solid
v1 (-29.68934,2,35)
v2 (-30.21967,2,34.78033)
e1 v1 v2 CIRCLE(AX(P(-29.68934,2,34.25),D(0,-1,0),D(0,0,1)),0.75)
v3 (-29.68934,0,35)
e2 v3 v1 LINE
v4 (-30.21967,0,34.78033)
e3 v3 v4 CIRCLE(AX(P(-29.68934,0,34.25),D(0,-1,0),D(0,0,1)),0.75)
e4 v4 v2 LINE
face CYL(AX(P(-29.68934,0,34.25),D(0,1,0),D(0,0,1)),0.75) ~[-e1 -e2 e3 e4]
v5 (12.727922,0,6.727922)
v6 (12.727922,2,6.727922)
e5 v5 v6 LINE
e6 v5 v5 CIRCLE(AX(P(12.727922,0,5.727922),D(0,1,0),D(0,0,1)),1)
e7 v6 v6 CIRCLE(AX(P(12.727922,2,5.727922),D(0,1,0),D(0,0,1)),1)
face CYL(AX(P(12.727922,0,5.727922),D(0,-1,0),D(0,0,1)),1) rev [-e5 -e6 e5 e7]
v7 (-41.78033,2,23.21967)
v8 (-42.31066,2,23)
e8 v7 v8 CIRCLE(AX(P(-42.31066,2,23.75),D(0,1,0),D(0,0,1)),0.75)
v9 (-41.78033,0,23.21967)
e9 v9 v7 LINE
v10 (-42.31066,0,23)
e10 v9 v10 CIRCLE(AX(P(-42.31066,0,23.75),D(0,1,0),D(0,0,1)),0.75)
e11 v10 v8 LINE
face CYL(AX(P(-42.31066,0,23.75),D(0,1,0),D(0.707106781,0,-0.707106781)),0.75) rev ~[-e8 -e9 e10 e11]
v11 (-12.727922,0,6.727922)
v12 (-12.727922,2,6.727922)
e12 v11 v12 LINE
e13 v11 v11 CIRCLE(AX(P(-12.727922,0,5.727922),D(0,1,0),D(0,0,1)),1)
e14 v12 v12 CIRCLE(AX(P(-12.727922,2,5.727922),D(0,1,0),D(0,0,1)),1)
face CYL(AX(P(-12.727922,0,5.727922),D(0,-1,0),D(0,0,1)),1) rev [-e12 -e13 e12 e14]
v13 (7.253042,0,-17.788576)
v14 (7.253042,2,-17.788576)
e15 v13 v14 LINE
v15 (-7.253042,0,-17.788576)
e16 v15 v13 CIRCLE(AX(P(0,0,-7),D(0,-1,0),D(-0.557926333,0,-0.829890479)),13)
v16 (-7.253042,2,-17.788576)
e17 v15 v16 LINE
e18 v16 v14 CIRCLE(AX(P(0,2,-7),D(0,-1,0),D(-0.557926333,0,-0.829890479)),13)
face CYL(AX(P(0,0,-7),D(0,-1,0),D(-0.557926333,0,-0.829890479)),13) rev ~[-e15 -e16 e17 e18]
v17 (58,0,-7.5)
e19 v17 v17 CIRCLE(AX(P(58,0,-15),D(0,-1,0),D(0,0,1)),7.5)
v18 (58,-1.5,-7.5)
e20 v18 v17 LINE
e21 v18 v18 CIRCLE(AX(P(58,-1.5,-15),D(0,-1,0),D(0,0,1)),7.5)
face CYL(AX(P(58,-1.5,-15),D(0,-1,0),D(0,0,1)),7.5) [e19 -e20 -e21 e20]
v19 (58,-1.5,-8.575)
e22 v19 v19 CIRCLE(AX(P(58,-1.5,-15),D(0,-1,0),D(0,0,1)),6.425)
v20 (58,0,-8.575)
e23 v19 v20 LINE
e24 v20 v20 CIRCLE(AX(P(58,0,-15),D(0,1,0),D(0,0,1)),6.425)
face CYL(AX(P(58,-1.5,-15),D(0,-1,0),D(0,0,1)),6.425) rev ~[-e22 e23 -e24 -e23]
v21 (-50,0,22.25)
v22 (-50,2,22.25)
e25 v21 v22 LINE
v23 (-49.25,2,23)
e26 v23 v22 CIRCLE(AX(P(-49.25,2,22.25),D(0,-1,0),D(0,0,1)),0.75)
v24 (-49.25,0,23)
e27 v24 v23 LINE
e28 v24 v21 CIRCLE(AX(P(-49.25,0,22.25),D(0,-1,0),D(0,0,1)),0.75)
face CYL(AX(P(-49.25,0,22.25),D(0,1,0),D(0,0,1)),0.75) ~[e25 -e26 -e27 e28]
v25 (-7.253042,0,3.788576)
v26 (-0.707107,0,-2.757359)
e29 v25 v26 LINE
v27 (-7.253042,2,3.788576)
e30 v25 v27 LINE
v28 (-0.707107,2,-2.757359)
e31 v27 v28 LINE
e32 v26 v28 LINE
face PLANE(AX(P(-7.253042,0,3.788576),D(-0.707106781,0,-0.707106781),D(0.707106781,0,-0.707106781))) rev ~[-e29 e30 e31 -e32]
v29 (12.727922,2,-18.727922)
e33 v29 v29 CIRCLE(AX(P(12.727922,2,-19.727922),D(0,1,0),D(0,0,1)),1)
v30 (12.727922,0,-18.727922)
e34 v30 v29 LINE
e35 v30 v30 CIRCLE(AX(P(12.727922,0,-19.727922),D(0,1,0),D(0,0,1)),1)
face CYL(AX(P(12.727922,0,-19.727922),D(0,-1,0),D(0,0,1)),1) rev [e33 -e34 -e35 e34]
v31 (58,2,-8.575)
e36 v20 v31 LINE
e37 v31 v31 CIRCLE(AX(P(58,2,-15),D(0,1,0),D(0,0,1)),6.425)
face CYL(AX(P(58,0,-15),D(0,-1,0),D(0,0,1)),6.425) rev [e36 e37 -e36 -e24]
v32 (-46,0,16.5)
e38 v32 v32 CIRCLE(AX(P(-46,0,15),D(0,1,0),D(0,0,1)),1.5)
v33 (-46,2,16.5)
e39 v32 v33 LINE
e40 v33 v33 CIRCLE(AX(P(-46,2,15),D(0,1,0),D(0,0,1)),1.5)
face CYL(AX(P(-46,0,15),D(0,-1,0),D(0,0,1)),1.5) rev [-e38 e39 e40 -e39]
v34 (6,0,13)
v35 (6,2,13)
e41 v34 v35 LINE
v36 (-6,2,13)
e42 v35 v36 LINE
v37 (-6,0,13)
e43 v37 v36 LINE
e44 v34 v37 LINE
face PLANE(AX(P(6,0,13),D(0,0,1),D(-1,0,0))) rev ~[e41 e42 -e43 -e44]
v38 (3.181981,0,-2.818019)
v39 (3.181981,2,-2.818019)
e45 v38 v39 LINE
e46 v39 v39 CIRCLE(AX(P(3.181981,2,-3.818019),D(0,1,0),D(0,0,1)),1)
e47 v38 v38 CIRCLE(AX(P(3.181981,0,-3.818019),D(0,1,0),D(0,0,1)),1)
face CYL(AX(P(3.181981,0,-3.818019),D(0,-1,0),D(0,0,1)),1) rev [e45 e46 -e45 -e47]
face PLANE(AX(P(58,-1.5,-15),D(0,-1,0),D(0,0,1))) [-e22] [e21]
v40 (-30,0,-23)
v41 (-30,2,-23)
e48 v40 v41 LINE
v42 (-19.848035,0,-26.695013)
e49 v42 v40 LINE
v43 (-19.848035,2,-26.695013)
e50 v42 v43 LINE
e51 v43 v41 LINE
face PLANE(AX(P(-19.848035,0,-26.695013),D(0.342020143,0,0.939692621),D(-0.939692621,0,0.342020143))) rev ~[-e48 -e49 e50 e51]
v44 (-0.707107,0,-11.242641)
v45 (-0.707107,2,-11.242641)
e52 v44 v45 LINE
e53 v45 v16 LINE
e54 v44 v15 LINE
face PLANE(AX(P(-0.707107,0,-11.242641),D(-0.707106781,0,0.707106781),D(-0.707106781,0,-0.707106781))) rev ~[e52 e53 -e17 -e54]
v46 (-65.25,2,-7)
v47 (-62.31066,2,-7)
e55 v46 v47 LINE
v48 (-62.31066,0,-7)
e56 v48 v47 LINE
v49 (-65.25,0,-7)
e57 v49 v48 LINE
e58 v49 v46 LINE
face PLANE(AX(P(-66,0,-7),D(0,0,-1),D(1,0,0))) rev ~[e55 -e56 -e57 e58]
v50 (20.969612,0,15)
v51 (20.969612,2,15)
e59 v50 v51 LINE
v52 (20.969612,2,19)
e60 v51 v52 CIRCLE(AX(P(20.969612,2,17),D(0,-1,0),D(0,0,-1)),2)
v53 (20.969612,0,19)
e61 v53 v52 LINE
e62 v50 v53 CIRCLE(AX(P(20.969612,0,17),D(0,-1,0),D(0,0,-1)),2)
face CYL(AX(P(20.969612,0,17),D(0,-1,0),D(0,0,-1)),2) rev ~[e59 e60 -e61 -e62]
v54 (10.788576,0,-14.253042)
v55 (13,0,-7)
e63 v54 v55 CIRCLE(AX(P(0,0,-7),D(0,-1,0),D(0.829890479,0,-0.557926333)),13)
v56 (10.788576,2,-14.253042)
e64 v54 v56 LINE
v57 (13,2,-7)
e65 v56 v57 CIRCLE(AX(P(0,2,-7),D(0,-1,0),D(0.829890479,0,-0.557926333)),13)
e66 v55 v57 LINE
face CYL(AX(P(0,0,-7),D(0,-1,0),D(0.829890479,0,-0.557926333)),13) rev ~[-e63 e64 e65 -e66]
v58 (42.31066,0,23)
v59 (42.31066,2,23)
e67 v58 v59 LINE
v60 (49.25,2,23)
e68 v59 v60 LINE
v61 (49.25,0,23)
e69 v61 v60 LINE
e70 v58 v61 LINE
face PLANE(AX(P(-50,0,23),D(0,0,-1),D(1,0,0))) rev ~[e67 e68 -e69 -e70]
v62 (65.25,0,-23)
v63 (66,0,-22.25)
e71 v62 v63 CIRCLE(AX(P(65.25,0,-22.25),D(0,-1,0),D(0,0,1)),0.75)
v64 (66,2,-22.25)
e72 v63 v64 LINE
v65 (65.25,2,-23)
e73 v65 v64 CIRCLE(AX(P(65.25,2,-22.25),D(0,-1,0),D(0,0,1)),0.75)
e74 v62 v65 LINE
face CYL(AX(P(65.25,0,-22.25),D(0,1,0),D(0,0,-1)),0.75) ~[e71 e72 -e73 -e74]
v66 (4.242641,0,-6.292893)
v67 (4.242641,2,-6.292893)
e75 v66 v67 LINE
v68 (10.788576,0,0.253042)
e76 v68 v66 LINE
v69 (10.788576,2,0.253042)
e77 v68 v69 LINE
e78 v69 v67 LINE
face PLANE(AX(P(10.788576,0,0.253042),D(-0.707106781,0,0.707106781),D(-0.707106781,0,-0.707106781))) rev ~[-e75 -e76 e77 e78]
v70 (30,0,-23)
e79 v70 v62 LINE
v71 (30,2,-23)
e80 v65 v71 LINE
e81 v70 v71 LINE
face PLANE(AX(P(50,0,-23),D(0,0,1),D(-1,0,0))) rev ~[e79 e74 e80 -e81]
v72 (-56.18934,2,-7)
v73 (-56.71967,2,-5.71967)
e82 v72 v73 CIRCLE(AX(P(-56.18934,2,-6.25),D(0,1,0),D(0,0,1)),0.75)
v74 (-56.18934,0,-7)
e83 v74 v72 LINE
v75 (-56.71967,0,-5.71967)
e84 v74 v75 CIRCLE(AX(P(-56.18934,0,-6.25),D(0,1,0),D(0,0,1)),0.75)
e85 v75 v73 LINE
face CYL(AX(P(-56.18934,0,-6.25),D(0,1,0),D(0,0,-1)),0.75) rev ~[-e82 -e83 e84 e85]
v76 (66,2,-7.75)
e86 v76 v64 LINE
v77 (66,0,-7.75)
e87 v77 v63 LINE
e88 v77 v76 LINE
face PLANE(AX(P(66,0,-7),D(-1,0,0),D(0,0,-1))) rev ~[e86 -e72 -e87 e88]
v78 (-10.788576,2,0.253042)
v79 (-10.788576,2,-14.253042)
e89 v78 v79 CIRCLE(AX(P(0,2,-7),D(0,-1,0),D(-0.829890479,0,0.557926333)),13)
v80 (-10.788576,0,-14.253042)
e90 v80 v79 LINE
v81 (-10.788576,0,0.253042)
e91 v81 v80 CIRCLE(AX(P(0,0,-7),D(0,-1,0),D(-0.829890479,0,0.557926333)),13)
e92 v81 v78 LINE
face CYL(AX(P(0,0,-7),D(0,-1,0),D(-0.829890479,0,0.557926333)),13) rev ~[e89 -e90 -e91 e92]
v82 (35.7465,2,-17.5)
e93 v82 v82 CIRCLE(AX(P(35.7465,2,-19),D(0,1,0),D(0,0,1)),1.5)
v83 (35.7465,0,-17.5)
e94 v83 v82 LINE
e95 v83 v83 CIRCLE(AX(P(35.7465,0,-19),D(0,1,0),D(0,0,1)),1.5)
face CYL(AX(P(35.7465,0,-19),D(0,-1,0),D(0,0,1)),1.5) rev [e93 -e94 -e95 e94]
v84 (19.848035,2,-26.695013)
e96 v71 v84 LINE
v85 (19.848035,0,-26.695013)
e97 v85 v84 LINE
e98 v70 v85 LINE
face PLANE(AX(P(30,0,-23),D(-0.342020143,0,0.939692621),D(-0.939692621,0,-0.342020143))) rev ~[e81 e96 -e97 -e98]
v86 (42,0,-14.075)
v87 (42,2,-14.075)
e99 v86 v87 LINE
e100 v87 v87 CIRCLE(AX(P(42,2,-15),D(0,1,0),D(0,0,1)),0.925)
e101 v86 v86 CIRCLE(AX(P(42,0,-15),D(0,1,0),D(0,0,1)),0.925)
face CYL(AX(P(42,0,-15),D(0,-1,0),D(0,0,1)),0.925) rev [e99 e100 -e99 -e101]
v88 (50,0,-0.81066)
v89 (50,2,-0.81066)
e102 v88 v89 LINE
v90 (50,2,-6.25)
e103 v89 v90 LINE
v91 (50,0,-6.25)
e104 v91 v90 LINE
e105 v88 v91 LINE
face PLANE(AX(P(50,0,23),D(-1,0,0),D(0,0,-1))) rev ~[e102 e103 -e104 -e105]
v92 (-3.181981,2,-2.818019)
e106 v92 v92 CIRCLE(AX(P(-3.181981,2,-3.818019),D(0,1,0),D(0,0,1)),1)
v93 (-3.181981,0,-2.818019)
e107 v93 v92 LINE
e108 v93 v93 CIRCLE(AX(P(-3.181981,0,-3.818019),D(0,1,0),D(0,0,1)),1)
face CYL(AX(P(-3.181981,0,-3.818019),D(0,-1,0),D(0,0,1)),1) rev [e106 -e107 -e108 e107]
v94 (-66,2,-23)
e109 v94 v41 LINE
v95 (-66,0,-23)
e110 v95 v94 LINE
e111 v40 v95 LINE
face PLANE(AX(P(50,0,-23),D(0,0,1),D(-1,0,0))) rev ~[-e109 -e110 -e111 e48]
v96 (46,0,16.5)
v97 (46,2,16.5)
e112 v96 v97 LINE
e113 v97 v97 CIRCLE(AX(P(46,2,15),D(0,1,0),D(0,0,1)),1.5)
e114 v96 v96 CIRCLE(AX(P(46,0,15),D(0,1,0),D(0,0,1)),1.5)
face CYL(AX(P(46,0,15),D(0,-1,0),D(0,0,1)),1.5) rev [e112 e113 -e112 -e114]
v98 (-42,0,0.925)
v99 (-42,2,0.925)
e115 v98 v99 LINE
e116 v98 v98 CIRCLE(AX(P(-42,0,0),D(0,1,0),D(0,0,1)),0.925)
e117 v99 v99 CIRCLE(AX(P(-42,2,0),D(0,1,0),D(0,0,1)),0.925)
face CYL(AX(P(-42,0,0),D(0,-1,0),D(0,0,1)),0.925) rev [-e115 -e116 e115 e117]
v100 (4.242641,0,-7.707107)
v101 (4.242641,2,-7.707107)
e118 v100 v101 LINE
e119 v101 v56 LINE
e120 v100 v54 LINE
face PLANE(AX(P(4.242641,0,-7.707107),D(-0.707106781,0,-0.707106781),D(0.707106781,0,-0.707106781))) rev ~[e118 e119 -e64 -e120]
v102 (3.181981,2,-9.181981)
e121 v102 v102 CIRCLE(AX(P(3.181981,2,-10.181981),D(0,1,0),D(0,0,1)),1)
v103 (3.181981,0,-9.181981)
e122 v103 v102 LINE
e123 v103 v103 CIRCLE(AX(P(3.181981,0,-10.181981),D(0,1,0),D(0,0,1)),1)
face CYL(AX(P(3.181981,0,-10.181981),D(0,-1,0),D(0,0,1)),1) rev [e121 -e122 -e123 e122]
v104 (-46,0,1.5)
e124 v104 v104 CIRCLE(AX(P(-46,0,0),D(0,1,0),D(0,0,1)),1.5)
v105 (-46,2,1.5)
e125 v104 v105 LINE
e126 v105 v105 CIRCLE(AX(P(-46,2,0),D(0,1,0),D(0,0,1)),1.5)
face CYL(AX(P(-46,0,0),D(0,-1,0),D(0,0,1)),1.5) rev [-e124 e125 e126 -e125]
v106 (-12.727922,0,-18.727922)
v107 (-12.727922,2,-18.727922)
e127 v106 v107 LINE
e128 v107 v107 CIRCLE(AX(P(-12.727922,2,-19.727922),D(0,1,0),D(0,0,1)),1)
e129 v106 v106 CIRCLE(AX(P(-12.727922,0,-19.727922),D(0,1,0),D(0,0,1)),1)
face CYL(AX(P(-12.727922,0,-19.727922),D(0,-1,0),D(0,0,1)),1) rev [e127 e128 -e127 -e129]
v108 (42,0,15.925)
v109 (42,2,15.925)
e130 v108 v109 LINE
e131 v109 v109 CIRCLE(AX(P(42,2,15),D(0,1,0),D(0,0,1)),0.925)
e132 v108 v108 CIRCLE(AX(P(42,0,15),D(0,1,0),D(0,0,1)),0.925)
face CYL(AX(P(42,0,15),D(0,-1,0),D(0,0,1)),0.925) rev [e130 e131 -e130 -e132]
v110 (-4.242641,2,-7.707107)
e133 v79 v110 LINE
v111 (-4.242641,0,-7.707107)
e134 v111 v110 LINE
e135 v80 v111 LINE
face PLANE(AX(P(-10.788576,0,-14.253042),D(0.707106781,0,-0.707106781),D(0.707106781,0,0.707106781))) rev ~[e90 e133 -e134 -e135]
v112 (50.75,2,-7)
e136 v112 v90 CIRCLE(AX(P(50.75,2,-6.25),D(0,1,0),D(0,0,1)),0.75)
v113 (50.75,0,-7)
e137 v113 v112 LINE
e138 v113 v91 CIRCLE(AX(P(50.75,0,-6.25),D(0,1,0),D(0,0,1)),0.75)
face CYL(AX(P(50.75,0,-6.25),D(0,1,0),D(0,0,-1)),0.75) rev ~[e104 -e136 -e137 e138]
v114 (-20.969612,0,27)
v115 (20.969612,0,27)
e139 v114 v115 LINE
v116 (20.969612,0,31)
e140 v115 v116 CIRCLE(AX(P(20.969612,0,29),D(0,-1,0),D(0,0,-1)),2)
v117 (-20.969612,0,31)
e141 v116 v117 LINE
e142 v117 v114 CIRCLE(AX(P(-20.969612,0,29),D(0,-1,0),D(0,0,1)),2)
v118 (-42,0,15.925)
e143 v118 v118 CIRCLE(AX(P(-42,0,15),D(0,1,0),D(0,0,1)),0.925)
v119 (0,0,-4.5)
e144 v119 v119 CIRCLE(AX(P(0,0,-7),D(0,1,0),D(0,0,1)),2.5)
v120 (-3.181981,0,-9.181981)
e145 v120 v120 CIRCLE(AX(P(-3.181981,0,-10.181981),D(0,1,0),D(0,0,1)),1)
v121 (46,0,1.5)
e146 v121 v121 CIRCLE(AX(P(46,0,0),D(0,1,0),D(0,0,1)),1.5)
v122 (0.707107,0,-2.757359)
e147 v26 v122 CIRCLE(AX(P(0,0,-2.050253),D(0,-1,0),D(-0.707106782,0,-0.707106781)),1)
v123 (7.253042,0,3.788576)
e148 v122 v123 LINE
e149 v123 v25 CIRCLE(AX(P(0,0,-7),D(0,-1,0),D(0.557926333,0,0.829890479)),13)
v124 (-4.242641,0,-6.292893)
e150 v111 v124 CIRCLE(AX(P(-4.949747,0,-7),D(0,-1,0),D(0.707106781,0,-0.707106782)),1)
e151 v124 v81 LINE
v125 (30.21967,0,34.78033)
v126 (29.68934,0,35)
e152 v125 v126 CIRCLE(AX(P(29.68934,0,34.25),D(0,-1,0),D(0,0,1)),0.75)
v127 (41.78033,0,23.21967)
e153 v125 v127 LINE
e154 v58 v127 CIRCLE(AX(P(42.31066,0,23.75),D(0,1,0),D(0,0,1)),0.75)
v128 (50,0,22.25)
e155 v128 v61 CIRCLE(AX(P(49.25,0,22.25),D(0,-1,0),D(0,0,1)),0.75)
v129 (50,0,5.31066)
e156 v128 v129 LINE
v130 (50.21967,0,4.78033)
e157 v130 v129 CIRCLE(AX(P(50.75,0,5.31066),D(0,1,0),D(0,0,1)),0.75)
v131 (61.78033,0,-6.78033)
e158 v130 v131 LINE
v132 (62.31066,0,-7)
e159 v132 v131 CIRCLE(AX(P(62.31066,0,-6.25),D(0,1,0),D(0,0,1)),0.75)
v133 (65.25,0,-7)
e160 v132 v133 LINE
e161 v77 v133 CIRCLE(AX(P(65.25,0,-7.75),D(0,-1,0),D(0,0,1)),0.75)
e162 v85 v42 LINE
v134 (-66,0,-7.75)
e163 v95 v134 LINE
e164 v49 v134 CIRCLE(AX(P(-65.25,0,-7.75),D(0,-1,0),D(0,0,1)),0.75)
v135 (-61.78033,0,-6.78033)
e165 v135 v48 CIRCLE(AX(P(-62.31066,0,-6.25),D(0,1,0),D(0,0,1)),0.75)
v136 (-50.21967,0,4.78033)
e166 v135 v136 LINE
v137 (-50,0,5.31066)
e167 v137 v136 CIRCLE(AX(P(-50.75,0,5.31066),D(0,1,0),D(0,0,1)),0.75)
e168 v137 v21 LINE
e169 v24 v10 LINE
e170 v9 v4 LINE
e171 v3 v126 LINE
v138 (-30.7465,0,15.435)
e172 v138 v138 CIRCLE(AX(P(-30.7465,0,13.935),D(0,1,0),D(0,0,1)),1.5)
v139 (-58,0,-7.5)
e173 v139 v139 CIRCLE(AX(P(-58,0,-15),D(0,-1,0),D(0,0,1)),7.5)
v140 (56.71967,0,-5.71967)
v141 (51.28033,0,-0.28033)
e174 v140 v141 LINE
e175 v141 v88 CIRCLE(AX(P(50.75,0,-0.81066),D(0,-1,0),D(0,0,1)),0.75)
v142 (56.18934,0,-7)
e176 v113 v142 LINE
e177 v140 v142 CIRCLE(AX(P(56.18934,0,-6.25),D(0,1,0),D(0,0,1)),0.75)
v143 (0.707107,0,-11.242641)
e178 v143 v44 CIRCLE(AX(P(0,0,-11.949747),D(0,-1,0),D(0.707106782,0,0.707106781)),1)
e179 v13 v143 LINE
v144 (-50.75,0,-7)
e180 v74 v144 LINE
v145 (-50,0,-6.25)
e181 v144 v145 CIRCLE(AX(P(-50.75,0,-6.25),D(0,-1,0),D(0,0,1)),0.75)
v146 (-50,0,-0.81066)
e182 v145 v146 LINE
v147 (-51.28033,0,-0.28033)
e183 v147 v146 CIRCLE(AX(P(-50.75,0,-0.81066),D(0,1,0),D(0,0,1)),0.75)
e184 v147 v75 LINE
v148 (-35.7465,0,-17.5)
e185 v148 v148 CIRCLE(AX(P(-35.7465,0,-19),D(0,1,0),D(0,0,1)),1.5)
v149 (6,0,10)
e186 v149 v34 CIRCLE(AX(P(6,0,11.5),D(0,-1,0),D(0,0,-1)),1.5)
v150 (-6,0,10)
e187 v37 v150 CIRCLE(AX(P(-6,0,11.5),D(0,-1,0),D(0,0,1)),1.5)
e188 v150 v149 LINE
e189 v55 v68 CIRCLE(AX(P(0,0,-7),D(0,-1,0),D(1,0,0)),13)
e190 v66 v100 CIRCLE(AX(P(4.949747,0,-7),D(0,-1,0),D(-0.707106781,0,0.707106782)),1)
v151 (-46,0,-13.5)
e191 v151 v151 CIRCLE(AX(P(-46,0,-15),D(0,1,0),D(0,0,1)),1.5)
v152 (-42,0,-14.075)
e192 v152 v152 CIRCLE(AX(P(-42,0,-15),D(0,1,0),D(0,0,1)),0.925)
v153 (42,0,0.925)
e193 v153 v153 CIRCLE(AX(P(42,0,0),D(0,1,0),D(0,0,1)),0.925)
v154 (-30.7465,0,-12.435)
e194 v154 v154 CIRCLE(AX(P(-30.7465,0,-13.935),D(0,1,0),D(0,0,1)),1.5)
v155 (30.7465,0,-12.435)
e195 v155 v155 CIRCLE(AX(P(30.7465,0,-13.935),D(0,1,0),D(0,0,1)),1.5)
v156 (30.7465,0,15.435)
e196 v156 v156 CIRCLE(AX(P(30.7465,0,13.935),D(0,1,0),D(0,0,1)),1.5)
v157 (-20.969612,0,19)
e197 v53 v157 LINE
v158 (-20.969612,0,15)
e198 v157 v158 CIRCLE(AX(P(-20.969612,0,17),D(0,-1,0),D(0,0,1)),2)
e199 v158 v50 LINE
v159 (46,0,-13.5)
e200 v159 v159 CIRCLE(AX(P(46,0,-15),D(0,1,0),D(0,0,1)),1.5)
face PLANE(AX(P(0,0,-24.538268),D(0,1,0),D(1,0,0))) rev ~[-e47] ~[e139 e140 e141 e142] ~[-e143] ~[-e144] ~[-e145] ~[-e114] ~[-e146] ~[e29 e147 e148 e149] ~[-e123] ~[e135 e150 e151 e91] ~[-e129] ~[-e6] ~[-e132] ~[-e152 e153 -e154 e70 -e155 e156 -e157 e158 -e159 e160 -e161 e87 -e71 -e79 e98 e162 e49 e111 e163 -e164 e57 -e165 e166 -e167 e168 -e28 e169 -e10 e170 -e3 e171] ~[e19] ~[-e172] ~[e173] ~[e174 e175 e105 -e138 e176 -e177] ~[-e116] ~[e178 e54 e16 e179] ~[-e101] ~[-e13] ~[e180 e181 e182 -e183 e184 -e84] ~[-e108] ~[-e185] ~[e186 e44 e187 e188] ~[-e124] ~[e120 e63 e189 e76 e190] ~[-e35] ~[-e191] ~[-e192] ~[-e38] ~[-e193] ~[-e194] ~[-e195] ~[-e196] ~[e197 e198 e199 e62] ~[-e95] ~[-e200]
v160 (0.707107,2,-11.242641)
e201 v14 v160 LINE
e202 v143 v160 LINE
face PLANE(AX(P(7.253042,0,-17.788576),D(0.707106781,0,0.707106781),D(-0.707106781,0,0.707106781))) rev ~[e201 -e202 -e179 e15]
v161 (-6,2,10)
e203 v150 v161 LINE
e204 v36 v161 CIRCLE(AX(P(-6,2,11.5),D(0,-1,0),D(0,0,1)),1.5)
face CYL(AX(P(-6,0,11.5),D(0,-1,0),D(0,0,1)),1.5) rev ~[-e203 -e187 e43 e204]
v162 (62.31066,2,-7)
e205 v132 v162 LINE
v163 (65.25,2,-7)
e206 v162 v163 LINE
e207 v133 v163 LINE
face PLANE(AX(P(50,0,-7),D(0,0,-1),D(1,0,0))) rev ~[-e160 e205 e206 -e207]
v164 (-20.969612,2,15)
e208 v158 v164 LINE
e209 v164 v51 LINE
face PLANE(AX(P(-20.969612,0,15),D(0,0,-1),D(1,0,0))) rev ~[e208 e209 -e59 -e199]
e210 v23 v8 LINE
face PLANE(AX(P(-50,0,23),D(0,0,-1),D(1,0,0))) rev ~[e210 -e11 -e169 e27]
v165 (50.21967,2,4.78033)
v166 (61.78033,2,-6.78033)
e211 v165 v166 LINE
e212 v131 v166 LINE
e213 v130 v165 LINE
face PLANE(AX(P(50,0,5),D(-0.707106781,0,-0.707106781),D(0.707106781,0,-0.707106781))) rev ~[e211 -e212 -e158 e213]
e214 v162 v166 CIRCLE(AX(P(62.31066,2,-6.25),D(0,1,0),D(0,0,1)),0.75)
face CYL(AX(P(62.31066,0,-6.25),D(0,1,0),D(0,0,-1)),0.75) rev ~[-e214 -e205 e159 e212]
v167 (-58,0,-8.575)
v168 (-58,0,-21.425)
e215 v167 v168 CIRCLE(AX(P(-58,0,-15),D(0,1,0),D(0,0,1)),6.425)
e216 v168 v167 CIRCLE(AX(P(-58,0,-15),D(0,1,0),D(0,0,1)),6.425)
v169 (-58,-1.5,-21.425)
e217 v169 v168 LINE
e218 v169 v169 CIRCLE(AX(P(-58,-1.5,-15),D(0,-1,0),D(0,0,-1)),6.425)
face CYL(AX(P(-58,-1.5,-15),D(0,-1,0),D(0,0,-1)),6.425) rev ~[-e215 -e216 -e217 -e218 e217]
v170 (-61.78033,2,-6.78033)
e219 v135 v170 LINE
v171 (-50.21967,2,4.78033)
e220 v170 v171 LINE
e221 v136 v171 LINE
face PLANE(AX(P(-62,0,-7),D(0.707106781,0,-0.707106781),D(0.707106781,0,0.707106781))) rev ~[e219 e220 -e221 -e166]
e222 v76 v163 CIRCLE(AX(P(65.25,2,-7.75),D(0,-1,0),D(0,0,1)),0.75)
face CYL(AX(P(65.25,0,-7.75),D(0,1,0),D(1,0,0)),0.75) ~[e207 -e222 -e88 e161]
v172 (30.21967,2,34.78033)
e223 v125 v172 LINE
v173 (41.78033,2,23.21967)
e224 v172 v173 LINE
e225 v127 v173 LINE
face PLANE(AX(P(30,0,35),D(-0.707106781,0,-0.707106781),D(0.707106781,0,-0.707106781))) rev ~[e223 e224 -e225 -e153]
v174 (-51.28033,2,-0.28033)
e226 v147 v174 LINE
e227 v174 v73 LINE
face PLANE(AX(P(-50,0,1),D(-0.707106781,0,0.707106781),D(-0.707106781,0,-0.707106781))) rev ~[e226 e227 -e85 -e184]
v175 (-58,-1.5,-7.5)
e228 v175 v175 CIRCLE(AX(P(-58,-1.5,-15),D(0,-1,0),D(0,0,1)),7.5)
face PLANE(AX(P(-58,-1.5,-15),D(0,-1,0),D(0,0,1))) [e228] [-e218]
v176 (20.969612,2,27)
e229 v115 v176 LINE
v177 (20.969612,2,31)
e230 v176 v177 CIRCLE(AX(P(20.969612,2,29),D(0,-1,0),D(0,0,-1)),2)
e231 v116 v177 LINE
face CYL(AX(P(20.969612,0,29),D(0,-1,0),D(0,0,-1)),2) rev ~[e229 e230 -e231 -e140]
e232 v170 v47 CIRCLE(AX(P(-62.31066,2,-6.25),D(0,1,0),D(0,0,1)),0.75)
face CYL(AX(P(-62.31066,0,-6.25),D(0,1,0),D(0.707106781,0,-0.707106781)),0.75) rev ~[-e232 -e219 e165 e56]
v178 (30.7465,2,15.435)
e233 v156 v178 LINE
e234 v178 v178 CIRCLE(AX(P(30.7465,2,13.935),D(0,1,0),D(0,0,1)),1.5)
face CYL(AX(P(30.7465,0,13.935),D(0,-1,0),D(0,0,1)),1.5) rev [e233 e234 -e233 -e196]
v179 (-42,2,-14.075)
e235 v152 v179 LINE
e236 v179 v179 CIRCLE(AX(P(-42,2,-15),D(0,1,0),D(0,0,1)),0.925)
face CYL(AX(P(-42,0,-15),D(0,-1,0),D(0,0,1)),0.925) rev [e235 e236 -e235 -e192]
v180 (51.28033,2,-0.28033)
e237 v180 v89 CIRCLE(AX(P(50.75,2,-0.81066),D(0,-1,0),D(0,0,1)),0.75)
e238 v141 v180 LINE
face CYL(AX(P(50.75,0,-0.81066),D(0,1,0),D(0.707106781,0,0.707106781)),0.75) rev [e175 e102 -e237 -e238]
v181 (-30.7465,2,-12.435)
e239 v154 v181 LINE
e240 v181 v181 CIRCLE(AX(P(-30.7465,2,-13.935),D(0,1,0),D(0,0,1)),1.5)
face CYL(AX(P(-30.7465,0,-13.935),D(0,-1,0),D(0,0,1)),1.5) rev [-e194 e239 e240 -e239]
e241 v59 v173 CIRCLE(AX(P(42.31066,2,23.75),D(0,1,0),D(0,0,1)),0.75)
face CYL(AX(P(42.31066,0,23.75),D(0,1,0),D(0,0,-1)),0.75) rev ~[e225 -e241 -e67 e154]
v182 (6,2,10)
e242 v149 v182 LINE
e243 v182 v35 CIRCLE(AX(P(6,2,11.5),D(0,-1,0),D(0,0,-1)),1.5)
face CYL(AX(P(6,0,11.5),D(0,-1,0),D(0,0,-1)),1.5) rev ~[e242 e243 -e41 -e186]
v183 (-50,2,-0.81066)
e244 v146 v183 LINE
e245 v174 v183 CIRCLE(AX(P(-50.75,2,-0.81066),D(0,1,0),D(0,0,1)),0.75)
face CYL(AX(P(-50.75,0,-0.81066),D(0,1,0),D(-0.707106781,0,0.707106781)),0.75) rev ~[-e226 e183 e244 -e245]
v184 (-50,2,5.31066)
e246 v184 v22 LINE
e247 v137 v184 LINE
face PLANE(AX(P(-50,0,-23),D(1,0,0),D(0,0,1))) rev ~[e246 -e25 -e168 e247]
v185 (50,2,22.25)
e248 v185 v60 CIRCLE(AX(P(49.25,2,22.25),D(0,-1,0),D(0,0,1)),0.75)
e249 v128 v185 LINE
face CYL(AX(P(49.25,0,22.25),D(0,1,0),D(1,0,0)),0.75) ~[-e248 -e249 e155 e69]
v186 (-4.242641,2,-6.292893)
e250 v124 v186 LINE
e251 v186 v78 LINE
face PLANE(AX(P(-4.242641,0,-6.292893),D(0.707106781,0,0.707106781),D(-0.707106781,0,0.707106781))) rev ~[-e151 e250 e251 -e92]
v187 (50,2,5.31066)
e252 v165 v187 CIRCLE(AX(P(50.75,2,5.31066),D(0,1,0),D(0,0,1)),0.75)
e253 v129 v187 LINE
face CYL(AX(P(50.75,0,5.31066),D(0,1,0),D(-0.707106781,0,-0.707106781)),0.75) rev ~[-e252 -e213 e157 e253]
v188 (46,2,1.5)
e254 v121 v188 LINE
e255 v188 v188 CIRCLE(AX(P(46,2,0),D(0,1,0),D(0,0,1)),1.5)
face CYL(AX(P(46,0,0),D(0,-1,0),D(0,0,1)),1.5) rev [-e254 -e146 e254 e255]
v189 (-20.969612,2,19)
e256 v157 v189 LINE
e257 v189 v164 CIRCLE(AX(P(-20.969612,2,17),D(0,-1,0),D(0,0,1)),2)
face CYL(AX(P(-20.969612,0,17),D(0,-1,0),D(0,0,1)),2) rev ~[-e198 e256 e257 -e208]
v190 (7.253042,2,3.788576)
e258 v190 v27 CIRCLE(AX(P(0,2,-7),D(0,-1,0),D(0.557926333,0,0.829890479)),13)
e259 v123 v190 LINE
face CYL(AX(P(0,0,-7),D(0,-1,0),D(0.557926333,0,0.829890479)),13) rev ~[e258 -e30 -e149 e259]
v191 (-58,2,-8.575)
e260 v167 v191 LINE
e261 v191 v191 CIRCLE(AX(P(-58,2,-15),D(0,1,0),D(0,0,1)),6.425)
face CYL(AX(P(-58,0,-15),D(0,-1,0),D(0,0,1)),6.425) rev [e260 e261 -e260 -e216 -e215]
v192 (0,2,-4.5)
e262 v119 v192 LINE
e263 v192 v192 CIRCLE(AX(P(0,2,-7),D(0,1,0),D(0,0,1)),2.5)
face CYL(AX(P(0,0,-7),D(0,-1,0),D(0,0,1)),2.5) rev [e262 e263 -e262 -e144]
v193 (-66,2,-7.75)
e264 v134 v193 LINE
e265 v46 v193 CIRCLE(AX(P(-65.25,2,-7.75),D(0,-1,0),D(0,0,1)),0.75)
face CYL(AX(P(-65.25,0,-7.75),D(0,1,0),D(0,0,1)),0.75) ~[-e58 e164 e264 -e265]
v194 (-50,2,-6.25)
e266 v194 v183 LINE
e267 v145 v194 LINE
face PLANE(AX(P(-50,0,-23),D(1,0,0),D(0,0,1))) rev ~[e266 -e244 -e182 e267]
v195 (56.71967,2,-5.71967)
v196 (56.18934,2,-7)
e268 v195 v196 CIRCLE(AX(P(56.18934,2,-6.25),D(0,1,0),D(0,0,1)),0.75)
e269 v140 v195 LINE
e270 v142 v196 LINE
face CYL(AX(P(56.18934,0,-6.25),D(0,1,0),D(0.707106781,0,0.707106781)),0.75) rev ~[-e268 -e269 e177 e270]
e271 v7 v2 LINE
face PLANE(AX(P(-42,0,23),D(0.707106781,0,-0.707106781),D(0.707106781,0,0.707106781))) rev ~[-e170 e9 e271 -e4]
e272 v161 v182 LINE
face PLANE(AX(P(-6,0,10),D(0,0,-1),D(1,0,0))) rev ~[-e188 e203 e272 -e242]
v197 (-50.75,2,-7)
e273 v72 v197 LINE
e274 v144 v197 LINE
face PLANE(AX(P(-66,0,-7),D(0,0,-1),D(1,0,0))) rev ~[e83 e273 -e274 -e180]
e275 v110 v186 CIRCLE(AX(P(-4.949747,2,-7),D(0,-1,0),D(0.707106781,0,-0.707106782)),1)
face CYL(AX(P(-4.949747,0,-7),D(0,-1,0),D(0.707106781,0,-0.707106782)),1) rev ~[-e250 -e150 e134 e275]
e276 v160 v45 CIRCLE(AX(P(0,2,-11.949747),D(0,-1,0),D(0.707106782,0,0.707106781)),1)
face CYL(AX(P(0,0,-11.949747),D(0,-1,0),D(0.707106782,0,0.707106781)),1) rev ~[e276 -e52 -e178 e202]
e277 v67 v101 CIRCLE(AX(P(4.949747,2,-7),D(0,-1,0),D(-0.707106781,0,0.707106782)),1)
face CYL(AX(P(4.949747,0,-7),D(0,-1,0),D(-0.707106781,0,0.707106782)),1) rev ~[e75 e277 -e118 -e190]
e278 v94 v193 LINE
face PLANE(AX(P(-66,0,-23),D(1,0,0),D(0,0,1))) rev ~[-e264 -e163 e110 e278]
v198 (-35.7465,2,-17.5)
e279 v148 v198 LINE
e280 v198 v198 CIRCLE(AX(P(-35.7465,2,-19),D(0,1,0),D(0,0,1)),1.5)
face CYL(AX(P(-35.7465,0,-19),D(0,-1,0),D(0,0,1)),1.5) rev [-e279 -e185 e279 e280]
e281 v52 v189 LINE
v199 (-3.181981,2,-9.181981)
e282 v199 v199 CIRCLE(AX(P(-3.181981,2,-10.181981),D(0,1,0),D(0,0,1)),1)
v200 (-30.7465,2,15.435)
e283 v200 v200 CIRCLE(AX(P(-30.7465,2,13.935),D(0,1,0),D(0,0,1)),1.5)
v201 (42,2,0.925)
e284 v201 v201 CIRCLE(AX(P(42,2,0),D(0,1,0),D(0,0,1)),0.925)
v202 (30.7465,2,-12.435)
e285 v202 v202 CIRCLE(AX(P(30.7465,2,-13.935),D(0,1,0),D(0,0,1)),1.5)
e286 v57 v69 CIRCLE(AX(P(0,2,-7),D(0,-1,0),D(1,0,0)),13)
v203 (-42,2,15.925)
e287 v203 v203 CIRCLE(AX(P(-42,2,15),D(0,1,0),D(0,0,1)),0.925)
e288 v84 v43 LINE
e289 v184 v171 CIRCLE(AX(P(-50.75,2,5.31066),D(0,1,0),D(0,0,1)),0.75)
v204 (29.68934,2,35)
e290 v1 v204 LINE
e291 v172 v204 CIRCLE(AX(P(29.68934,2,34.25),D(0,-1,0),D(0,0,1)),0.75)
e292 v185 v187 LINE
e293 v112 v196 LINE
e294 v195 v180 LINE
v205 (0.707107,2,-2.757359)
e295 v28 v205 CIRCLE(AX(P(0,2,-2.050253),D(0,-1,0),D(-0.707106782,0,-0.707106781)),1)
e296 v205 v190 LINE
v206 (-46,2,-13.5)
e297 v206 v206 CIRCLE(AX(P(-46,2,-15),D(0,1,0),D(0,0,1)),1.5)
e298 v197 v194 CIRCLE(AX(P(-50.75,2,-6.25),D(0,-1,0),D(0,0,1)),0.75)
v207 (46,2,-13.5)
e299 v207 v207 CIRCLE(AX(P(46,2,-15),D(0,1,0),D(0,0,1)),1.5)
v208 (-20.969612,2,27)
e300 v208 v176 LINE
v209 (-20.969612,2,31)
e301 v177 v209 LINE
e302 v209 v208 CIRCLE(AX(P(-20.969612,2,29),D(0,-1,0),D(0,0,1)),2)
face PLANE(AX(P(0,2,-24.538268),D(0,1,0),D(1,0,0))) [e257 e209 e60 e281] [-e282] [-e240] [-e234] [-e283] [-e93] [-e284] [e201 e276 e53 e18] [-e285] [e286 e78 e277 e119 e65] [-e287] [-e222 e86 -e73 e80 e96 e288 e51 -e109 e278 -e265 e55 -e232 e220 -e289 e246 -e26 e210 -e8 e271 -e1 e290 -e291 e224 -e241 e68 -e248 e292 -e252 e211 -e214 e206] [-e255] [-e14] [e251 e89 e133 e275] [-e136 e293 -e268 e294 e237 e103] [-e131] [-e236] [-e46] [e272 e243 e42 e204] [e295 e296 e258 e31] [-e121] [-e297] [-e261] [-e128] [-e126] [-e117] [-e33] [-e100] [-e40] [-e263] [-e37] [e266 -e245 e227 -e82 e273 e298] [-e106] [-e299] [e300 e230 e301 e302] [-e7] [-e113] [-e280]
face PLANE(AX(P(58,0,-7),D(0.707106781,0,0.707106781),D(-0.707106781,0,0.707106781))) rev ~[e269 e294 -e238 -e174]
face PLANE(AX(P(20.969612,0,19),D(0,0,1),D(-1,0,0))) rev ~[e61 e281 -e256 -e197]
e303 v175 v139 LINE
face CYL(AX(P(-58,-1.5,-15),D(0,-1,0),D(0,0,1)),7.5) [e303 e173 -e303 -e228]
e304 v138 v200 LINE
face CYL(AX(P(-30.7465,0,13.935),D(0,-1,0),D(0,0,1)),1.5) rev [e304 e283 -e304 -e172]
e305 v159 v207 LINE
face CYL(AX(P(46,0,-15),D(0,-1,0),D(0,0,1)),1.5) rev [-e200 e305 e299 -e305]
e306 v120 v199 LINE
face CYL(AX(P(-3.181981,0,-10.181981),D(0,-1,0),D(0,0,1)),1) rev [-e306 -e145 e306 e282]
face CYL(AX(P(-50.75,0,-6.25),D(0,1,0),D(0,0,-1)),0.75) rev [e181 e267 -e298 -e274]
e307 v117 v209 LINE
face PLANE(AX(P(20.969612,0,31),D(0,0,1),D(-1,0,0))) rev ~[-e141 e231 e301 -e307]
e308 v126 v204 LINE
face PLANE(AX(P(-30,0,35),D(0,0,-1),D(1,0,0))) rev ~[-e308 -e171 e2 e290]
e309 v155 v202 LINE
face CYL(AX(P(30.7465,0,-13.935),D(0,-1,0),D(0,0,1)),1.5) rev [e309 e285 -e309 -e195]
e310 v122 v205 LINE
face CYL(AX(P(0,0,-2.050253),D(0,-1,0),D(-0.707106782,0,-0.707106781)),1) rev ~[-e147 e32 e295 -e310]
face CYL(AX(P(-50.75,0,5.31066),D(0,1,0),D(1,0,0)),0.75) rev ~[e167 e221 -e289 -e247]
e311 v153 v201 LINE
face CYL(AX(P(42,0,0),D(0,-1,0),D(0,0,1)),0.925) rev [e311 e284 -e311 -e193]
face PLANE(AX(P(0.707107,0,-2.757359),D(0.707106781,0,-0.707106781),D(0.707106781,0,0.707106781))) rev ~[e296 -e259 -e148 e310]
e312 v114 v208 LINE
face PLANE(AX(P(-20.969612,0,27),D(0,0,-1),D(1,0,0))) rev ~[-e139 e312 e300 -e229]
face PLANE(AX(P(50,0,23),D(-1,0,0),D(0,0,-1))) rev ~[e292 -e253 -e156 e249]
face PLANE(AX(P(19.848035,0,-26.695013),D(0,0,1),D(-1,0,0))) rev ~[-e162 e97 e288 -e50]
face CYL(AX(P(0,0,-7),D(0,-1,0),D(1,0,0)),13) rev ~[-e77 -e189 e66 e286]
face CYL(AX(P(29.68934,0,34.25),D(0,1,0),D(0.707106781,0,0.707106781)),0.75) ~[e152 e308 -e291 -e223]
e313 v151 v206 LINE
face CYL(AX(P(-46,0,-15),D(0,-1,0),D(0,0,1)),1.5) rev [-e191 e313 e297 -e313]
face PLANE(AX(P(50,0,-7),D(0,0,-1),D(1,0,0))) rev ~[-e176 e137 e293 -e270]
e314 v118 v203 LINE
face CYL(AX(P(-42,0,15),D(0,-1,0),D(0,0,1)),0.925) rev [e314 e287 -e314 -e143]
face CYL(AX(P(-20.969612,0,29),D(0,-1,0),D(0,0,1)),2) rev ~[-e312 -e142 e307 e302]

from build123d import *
from build123d.topology import SkipClean

# Parameters (mm, degrees)
SKETCH_1_R      = 1.5
SKETCH_1_R_2    = 0.925
SKETCH_1_R_3    = 1
SKETCH_1_R_4    = 15
SKETCH_1_R_5    = 2.5
SKETCH_1_R_6    = 6.425
EXTRUDE_1_DEPTH = 2
FILLET_1_R      = 0.75
EXTRUDE_START   = 1.5
SKETCH_3_R      = 7.5
SKETCH_3_R_2    = 6.425
EXTRUDE_2_DEPTH = 1.5


with BuildPart() as part:
    # 草图1 → 凸台-拉伸1 (new body)
    # profile 1 of 11: a face of its own
    with BuildSketch(Plane(origin=(0, 0, 0), x_dir=(1, 0, 0), z_dir=(0, 1, 0))):
        Polygon((-19.848034865, 26.695013128), (-30, 23), (30, 23), (19.848034865, 26.695013128), (0.026493373, 26.695013128), (-0.026493373, 26.695013128), align=None)
    # profile 2 of 11: a face of its own
    with BuildSketch(Plane(origin=(0, 0, 0), x_dir=(1, 0, 0), z_dir=(0, 1, 0))):
        Polygon((-19.848034865, 26.695013128), (-30, 23), (30, 23), (19.848034865, 26.695013128), (0.026493373, 26.695013128), (-0.026493373, 26.695013128), align=None)
    # profile 3 of 11: a face of its own
    with BuildSketch(Plane(origin=(0, 0, 0), x_dir=(1, 0, 0), z_dir=(0, 1, 0))):
        Polygon((-30, 23), (-50, 23), (-50, 7), (-50, -1), (-50, -5), (-50, -23), (-42, -23), (42, -23), (50, -23), (50, -5), (50, -1), (50, 7), (50, 23), (30, 23), align=None)
        with Locations(Location((-46, -15, 0), (0, 0, 270))):
            Circle(SKETCH_1_R, mode=Mode.SUBTRACT)
        with Locations(Location((-42, -15, 0), (0, 0, 270))):
            Circle(SKETCH_1_R_2, mode=Mode.SUBTRACT)
        with Locations(Location((-30.7465, -13.935, 0), (0, 0, 270))):
            Circle(SKETCH_1_R, mode=Mode.SUBTRACT)
        with Locations(Location((-12.727922061, -5.727922061, 0), (0, 0, 270))):
            Circle(SKETCH_1_R_3, mode=Mode.SUBTRACT)
        with BuildLine():
            ThreePointArc((-20.969611628, -19), (-22.969611628, -17), (-20.969611628, -15))
            Line((-20.969611628, -15), (20.969611628, -15))
            ThreePointArc((20.969611628, -15), (22.969611628, -17), (20.969611628, -19))
            Line((20.969611628, -19), (-20.969611628, -19))
        make_face(mode=Mode.SUBTRACT)
        with Locations(Location((30.7465, -13.935, 0), (0, 0, 270))):
            Circle(SKETCH_1_R, mode=Mode.SUBTRACT)
        with BuildLine():
            ThreePointArc((-6, -13), (-7.5, -11.5), (-6, -10))
            Line((-6, -10), (6, -10))
            ThreePointArc((6, -10), (7.5, -11.5), (6, -13))
            Line((6, -13), (-6, -13))
        make_face(mode=Mode.SUBTRACT)
        with Locations(Location((12.727922061, -5.727922061, 0), (0, 0, 270))):
            Circle(SKETCH_1_R_3, mode=Mode.SUBTRACT)
        with Locations(Location((42, -15, 0), (0, 0, 270))):
            Circle(SKETCH_1_R_2, mode=Mode.SUBTRACT)
        with Locations(Location((46, -15, 0), (0, 0, 270))):
            Circle(SKETCH_1_R, mode=Mode.SUBTRACT)
        with Locations(Location((-46, 0, 0), (0, 0, 270))):
            Circle(SKETCH_1_R, mode=Mode.SUBTRACT)
        with Locations(Location((-42, 0, 0), (0, 0, 270))):
            Circle(SKETCH_1_R_2, mode=Mode.SUBTRACT)
        with Locations(Location((-46, 15, 0), (0, 0, 270))):
            Circle(SKETCH_1_R, mode=Mode.SUBTRACT)
        with Locations(Location((-42, 15, 0), (0, 0, 270))):
            Circle(SKETCH_1_R_2, mode=Mode.SUBTRACT)
        with Locations(Location((-35.7465, 19, 0), (0, 0, 270))):
            Circle(SKETCH_1_R, mode=Mode.SUBTRACT)
        with Locations(Location((-30.7465, 13.935, 0), (0, 0, 270))):
            Circle(SKETCH_1_R, mode=Mode.SUBTRACT)
        with Locations(Location((-12.727922061, 19.727922061, 0), (0, 0, 270))):
            Circle(SKETCH_1_R_3, mode=Mode.SUBTRACT)
        with Locations((0, 7)):
            Circle(SKETCH_1_R_4, mode=Mode.SUBTRACT)
        with Locations(Location((42, 0, 0), (0, 0, 270))):
            Circle(SKETCH_1_R_2, mode=Mode.SUBTRACT)
        with Locations(Location((46, 0, 0), (0, 0, 270))):
            Circle(SKETCH_1_R, mode=Mode.SUBTRACT)
        with Locations(Location((30.7465, 13.935, 0), (0, 0, 270))):
            Circle(SKETCH_1_R, mode=Mode.SUBTRACT)
        with Locations(Location((12.727922061, 19.727922061, 0), (0, 0, 270))):
            Circle(SKETCH_1_R_3, mode=Mode.SUBTRACT)
        with Locations(Location((42, 15, 0), (0, 0, 270))):
            Circle(SKETCH_1_R_2, mode=Mode.SUBTRACT)
        with Locations(Location((46, 15, 0), (0, 0, 270))):
            Circle(SKETCH_1_R, mode=Mode.SUBTRACT)
        with Locations(Location((35.7465, 19, 0), (0, 0, 270))):
            Circle(SKETCH_1_R, mode=Mode.SUBTRACT)
    # profile 4 of 11: a face of its own
    with BuildSketch(Plane(origin=(0, 0, 0), x_dir=(1, 0, 0), z_dir=(0, 1, 0))):
        Polygon((-30, 23), (-50, 23), (-50, 7), (-50, -1), (-50, -5), (-50, -23), (-42, -23), (42, -23), (50, -23), (50, -5), (50, -1), (50, 7), (50, 23), (30, 23), align=None)
        with Locations(Location((-46, -15, 0), (0, 0, 270))):
            Circle(SKETCH_1_R, mode=Mode.SUBTRACT)
        with Locations(Location((-42, -15, 0), (0, 0, 270))):
            Circle(SKETCH_1_R_2, mode=Mode.SUBTRACT)
        with Locations(Location((-30.7465, -13.935, 0), (0, 0, 270))):
            Circle(SKETCH_1_R, mode=Mode.SUBTRACT)
        with Locations(Location((-12.727922061, -5.727922061, 0), (0, 0, 270))):
            Circle(SKETCH_1_R_3, mode=Mode.SUBTRACT)
        with BuildLine():
            ThreePointArc((-20.969611628, -19), (-22.969611628, -17), (-20.969611628, -15))
            Line((-20.969611628, -15), (20.969611628, -15))
            ThreePointArc((20.969611628, -15), (22.969611628, -17), (20.969611628, -19))
            Line((20.969611628, -19), (-20.969611628, -19))
        make_face(mode=Mode.SUBTRACT)
        with Locations(Location((30.7465, -13.935, 0), (0, 0, 270))):
            Circle(SKETCH_1_R, mode=Mode.SUBTRACT)
        with BuildLine():
            ThreePointArc((-6, -13), (-7.5, -11.5), (-6, -10))
            Line((-6, -10), (6, -10))
            ThreePointArc((6, -10), (7.5, -11.5), (6, -13))
            Line((6, -13), (-6, -13))
        make_face(mode=Mode.SUBTRACT)
        with Locations(Location((12.727922061, -5.727922061, 0), (0, 0, 270))):
            Circle(SKETCH_1_R_3, mode=Mode.SUBTRACT)
        with Locations(Location((42, -15, 0), (0, 0, 270))):
            Circle(SKETCH_1_R_2, mode=Mode.SUBTRACT)
        with Locations(Location((46, -15, 0), (0, 0, 270))):
            Circle(SKETCH_1_R, mode=Mode.SUBTRACT)
        with Locations(Location((-46, 0, 0), (0, 0, 270))):
            Circle(SKETCH_1_R, mode=Mode.SUBTRACT)
        with Locations(Location((-42, 0, 0), (0, 0, 270))):
            Circle(SKETCH_1_R_2, mode=Mode.SUBTRACT)
        with Locations(Location((-46, 15, 0), (0, 0, 270))):
            Circle(SKETCH_1_R, mode=Mode.SUBTRACT)
        with Locations(Location((-42, 15, 0), (0, 0, 270))):
            Circle(SKETCH_1_R_2, mode=Mode.SUBTRACT)
        with Locations(Location((-35.7465, 19, 0), (0, 0, 270))):
            Circle(SKETCH_1_R, mode=Mode.SUBTRACT)
        with Locations(Location((-30.7465, 13.935, 0), (0, 0, 270))):
            Circle(SKETCH_1_R, mode=Mode.SUBTRACT)
        with Locations(Location((-12.727922061, 19.727922061, 0), (0, 0, 270))):
            Circle(SKETCH_1_R_3, mode=Mode.SUBTRACT)
        with Locations((0, 7)):
            Circle(SKETCH_1_R_4, mode=Mode.SUBTRACT)
        with Locations(Location((42, 0, 0), (0, 0, 270))):
            Circle(SKETCH_1_R_2, mode=Mode.SUBTRACT)
        with Locations(Location((46, 0, 0), (0, 0, 270))):
            Circle(SKETCH_1_R, mode=Mode.SUBTRACT)
        with Locations(Location((30.7465, 13.935, 0), (0, 0, 270))):
            Circle(SKETCH_1_R, mode=Mode.SUBTRACT)
        with Locations(Location((12.727922061, 19.727922061, 0), (0, 0, 270))):
            Circle(SKETCH_1_R_3, mode=Mode.SUBTRACT)
        with Locations(Location((42, 15, 0), (0, 0, 270))):
            Circle(SKETCH_1_R_2, mode=Mode.SUBTRACT)
        with Locations(Location((46, 15, 0), (0, 0, 270))):
            Circle(SKETCH_1_R, mode=Mode.SUBTRACT)
        with Locations(Location((35.7465, 19, 0), (0, 0, 270))):
            Circle(SKETCH_1_R, mode=Mode.SUBTRACT)
    # profile 5 of 11: a face of its own
    with BuildSketch(Plane(origin=(0, 0, 0), x_dir=(1, 0, 0), z_dir=(0, 1, 0))):
        with Locations((0, 7)):
            Circle(SKETCH_1_R_4)
        with BuildLine():
            ThreePointArc((13, 7), (12.434860091, 3.208660592), (10.788576229, -0.253042323))
            ThreePointArc((10.788576229, -0.253042323), (9.192388155, -2.192388155), (7.253042323, -3.788576229))
            ThreePointArc((7.253042323, -3.788576229), (0, -6), (-7.253042323, -3.788576229))
            ThreePointArc((-7.253042323, -3.788576229), (-9.192388155, -2.192388155), (-10.788576229, -0.253042323))
            ThreePointArc((-10.788576229, -0.253042323), (-13, 7), (-10.788576229, 14.253042323))
            ThreePointArc((-10.788576229, 14.253042323), (-9.192388155, 16.192388155), (-7.253042323, 17.788576229))
            ThreePointArc((-7.253042323, 17.788576229), (0, 20), (7.253042323, 17.788576229))
            ThreePointArc((7.253042323, 17.788576229), (9.192388155, 16.192388155), (10.788576229, 14.253042323))
            ThreePointArc((10.788576229, 14.253042323), (12.434860091, 10.791339408), (13, 7))
        make_face(mode=Mode.SUBTRACT)
    # profile 6 of 11: a face of its own
    with BuildSketch(Plane(origin=(0, 0, 0), x_dir=(1, 0, 0), z_dir=(0, 1, 0))):
        with BuildLine():
            ThreePointArc((7.253042323, -3.788576229), (9.192388155, -2.192388155), (10.788576229, -0.253042323))
            Line((10.788576229, -0.253042323), (4.242640687, 6.292893219))
            ThreePointArc((4.242640687, 6.292893219), (3.949747468, 7), (4.242640687, 7.707106781))
            Line((4.242640687, 7.707106781), (10.788576229, 14.253042323))
            ThreePointArc((10.788576229, 14.253042323), (9.192388155, 16.192388155), (7.253042323, 17.788576229))
            Line((7.253042323, 17.788576229), (0.707106781, 11.242640687))
            ThreePointArc((0.707106781, 11.242640687), (0, 10.949747468), (-0.707106781, 11.242640687))
            Line((-0.707106781, 11.242640687), (-7.253042323, 17.788576229))
            ThreePointArc((-7.253042323, 17.788576229), (-9.192388155, 16.192388155), (-10.788576229, 14.253042323))
            Line((-10.788576229, 14.253042323), (-4.242640687, 7.707106781))
            ThreePointArc((-4.242640687, 7.707106781), (-3.949747468, 7), (-4.242640687, 6.292893219))
            Line((-4.242640687, 6.292893219), (-10.788576229, -0.253042323))
            ThreePointArc((-10.788576229, -0.253042323), (-9.192388155, -2.192388155), (-7.253042323, -3.788576229))
            Line((-7.253042323, -3.788576229), (-0.707106781, 2.757359313))
            ThreePointArc((-0.707106781, 2.757359313), (0, 3.050252532), (0.707106781, 2.757359313))
            Line((0.707106781, 2.757359313), (7.253042323, -3.788576229))
        make_face()
        with Locations(Location((-3.181980515, 3.818019485, 0), (0, 0, 270))):
            Circle(SKETCH_1_R_3, mode=Mode.SUBTRACT)
        with Locations(Location((-3.181980515, 10.181980515, 0), (0, 0, 270))):
            Circle(SKETCH_1_R_3, mode=Mode.SUBTRACT)
        with Locations(Location((3.181980515, 3.818019485, 0), (0, 0, 270))):
            Circle(SKETCH_1_R_3, mode=Mode.SUBTRACT)
        with Locations(Location((0, 7, 0), (0, 0, 270))):
            Circle(SKETCH_1_R_5, mode=Mode.SUBTRACT)
        with Locations(Location((3.181980515, 10.181980515, 0), (0, 0, 270))):
            Circle(SKETCH_1_R_3, mode=Mode.SUBTRACT)
    # profile 7 of 11: a face of its own
    with BuildSketch(Plane(origin=(0, 0, 0), x_dir=(1, 0, 0), z_dir=(0, 1, 0))):
        Polygon((42, -23), (-42, -23), (-30, -35), (30, -35), align=None)
        with BuildLine():
            ThreePointArc((-20.969611628, -31), (-22.969611628, -29), (-20.969611628, -27))
            Line((-20.969611628, -27), (20.969611628, -27))
            ThreePointArc((20.969611628, -27), (22.969611628, -29), (20.969611628, -31))
            Line((20.969611628, -31), (-20.969611628, -31))
        make_face(mode=Mode.SUBTRACT)
    # profile 8 of 11: a face of its own
    with BuildSketch(Plane(origin=(0, 0, 0), x_dir=(1, 0, 0), z_dir=(0, 1, 0))):
        Polygon((-50, -5), (-50, -1), (-58, 7), (-62, 7), align=None)
    # profile 9 of 11: a face of its own
    with BuildSketch(Plane(origin=(0, 0, 0), x_dir=(1, 0, 0), z_dir=(0, 1, 0))):
        Polygon((-50, 7), (-50, 23), (-66, 23), (-66, 7), (-62, 7), (-58, 7), align=None)
        with Locations(Location((-58, 15, 0), (0, 0, 270))):
            Circle(SKETCH_1_R_6, mode=Mode.SUBTRACT)
    # profile 10 of 11: a face of its own
    with BuildSketch(Plane(origin=(0, 0, 0), x_dir=(1, 0, 0), z_dir=(0, 1, 0))):
        Polygon((66, 23), (50, 23), (50, 7), (58, 7), (62, 7), (66, 7), align=None)
        with Locations(Location((58, 15, 0), (0, 0, 270))):
            Circle(SKETCH_1_R_6, mode=Mode.SUBTRACT)
    # profile 11 of 11: a face of its own
    with BuildSketch(Plane(origin=(0, 0, 0), x_dir=(1, 0, 0), z_dir=(0, 1, 0))):
        Polygon((58, 7), (50, -1), (50, -5), (62, 7), align=None)
    extrude(amount=EXTRUDE_1_DEPTH)

    # 圆角1
    fillet_1_edges = [part.edges().sort_by_distance(p)[0] for p in [
        (66, 1, -23),
        (66, 1, -7),
        (62, 1, -7),
        (50, 1, 5),
        (50, 1, 23),
        (42, 1, 23),
        (30, 1, 35),
        (-30, 1, 35),
        (-42, 1, 23),
        (-50, 1, 23),
        (-50, 1, 5),
        (-62, 1, -7),
        (-66, 1, -7),
        (50, 1, -7),
        (50, 1, 1),
        (58, 1, -7),
        (-50, 1, 1),
        (-50, 1, -7),
        (-58, 1, -7),
    ]]
    fillet(fillet_1_edges, radius=FILLET_1_R)

    # 草图3 → 凸台-拉伸2 (add)
    # profile 1 of 2: a face of its own
    with SkipClean():  # the faces are left unmerged after this step: merging them gives an invalid solid
        with BuildSketch(Plane.XZ.offset(EXTRUDE_START)):
            with Locations(Location((-58, -15, 0), (0, 0, 90))):
                Circle(SKETCH_3_R)
            with Locations(Location((-58, -15, 0), (0, 0, 270))):
                Circle(SKETCH_3_R_2, mode=Mode.SUBTRACT)
        # profile 2 of 2: a face of its own
        with BuildSketch(Plane.XZ.offset(EXTRUDE_START)):
            with Locations(Location((58, -15, 0), (0, 0, 90))):
                Circle(SKETCH_3_R)
            with Locations(Location((58, -15, 0), (0, 0, 90))):
                Circle(SKETCH_3_R_2, mode=Mode.SUBTRACT)
        extrude(amount=-EXTRUDE_2_DEPTH)


solid = part.part
